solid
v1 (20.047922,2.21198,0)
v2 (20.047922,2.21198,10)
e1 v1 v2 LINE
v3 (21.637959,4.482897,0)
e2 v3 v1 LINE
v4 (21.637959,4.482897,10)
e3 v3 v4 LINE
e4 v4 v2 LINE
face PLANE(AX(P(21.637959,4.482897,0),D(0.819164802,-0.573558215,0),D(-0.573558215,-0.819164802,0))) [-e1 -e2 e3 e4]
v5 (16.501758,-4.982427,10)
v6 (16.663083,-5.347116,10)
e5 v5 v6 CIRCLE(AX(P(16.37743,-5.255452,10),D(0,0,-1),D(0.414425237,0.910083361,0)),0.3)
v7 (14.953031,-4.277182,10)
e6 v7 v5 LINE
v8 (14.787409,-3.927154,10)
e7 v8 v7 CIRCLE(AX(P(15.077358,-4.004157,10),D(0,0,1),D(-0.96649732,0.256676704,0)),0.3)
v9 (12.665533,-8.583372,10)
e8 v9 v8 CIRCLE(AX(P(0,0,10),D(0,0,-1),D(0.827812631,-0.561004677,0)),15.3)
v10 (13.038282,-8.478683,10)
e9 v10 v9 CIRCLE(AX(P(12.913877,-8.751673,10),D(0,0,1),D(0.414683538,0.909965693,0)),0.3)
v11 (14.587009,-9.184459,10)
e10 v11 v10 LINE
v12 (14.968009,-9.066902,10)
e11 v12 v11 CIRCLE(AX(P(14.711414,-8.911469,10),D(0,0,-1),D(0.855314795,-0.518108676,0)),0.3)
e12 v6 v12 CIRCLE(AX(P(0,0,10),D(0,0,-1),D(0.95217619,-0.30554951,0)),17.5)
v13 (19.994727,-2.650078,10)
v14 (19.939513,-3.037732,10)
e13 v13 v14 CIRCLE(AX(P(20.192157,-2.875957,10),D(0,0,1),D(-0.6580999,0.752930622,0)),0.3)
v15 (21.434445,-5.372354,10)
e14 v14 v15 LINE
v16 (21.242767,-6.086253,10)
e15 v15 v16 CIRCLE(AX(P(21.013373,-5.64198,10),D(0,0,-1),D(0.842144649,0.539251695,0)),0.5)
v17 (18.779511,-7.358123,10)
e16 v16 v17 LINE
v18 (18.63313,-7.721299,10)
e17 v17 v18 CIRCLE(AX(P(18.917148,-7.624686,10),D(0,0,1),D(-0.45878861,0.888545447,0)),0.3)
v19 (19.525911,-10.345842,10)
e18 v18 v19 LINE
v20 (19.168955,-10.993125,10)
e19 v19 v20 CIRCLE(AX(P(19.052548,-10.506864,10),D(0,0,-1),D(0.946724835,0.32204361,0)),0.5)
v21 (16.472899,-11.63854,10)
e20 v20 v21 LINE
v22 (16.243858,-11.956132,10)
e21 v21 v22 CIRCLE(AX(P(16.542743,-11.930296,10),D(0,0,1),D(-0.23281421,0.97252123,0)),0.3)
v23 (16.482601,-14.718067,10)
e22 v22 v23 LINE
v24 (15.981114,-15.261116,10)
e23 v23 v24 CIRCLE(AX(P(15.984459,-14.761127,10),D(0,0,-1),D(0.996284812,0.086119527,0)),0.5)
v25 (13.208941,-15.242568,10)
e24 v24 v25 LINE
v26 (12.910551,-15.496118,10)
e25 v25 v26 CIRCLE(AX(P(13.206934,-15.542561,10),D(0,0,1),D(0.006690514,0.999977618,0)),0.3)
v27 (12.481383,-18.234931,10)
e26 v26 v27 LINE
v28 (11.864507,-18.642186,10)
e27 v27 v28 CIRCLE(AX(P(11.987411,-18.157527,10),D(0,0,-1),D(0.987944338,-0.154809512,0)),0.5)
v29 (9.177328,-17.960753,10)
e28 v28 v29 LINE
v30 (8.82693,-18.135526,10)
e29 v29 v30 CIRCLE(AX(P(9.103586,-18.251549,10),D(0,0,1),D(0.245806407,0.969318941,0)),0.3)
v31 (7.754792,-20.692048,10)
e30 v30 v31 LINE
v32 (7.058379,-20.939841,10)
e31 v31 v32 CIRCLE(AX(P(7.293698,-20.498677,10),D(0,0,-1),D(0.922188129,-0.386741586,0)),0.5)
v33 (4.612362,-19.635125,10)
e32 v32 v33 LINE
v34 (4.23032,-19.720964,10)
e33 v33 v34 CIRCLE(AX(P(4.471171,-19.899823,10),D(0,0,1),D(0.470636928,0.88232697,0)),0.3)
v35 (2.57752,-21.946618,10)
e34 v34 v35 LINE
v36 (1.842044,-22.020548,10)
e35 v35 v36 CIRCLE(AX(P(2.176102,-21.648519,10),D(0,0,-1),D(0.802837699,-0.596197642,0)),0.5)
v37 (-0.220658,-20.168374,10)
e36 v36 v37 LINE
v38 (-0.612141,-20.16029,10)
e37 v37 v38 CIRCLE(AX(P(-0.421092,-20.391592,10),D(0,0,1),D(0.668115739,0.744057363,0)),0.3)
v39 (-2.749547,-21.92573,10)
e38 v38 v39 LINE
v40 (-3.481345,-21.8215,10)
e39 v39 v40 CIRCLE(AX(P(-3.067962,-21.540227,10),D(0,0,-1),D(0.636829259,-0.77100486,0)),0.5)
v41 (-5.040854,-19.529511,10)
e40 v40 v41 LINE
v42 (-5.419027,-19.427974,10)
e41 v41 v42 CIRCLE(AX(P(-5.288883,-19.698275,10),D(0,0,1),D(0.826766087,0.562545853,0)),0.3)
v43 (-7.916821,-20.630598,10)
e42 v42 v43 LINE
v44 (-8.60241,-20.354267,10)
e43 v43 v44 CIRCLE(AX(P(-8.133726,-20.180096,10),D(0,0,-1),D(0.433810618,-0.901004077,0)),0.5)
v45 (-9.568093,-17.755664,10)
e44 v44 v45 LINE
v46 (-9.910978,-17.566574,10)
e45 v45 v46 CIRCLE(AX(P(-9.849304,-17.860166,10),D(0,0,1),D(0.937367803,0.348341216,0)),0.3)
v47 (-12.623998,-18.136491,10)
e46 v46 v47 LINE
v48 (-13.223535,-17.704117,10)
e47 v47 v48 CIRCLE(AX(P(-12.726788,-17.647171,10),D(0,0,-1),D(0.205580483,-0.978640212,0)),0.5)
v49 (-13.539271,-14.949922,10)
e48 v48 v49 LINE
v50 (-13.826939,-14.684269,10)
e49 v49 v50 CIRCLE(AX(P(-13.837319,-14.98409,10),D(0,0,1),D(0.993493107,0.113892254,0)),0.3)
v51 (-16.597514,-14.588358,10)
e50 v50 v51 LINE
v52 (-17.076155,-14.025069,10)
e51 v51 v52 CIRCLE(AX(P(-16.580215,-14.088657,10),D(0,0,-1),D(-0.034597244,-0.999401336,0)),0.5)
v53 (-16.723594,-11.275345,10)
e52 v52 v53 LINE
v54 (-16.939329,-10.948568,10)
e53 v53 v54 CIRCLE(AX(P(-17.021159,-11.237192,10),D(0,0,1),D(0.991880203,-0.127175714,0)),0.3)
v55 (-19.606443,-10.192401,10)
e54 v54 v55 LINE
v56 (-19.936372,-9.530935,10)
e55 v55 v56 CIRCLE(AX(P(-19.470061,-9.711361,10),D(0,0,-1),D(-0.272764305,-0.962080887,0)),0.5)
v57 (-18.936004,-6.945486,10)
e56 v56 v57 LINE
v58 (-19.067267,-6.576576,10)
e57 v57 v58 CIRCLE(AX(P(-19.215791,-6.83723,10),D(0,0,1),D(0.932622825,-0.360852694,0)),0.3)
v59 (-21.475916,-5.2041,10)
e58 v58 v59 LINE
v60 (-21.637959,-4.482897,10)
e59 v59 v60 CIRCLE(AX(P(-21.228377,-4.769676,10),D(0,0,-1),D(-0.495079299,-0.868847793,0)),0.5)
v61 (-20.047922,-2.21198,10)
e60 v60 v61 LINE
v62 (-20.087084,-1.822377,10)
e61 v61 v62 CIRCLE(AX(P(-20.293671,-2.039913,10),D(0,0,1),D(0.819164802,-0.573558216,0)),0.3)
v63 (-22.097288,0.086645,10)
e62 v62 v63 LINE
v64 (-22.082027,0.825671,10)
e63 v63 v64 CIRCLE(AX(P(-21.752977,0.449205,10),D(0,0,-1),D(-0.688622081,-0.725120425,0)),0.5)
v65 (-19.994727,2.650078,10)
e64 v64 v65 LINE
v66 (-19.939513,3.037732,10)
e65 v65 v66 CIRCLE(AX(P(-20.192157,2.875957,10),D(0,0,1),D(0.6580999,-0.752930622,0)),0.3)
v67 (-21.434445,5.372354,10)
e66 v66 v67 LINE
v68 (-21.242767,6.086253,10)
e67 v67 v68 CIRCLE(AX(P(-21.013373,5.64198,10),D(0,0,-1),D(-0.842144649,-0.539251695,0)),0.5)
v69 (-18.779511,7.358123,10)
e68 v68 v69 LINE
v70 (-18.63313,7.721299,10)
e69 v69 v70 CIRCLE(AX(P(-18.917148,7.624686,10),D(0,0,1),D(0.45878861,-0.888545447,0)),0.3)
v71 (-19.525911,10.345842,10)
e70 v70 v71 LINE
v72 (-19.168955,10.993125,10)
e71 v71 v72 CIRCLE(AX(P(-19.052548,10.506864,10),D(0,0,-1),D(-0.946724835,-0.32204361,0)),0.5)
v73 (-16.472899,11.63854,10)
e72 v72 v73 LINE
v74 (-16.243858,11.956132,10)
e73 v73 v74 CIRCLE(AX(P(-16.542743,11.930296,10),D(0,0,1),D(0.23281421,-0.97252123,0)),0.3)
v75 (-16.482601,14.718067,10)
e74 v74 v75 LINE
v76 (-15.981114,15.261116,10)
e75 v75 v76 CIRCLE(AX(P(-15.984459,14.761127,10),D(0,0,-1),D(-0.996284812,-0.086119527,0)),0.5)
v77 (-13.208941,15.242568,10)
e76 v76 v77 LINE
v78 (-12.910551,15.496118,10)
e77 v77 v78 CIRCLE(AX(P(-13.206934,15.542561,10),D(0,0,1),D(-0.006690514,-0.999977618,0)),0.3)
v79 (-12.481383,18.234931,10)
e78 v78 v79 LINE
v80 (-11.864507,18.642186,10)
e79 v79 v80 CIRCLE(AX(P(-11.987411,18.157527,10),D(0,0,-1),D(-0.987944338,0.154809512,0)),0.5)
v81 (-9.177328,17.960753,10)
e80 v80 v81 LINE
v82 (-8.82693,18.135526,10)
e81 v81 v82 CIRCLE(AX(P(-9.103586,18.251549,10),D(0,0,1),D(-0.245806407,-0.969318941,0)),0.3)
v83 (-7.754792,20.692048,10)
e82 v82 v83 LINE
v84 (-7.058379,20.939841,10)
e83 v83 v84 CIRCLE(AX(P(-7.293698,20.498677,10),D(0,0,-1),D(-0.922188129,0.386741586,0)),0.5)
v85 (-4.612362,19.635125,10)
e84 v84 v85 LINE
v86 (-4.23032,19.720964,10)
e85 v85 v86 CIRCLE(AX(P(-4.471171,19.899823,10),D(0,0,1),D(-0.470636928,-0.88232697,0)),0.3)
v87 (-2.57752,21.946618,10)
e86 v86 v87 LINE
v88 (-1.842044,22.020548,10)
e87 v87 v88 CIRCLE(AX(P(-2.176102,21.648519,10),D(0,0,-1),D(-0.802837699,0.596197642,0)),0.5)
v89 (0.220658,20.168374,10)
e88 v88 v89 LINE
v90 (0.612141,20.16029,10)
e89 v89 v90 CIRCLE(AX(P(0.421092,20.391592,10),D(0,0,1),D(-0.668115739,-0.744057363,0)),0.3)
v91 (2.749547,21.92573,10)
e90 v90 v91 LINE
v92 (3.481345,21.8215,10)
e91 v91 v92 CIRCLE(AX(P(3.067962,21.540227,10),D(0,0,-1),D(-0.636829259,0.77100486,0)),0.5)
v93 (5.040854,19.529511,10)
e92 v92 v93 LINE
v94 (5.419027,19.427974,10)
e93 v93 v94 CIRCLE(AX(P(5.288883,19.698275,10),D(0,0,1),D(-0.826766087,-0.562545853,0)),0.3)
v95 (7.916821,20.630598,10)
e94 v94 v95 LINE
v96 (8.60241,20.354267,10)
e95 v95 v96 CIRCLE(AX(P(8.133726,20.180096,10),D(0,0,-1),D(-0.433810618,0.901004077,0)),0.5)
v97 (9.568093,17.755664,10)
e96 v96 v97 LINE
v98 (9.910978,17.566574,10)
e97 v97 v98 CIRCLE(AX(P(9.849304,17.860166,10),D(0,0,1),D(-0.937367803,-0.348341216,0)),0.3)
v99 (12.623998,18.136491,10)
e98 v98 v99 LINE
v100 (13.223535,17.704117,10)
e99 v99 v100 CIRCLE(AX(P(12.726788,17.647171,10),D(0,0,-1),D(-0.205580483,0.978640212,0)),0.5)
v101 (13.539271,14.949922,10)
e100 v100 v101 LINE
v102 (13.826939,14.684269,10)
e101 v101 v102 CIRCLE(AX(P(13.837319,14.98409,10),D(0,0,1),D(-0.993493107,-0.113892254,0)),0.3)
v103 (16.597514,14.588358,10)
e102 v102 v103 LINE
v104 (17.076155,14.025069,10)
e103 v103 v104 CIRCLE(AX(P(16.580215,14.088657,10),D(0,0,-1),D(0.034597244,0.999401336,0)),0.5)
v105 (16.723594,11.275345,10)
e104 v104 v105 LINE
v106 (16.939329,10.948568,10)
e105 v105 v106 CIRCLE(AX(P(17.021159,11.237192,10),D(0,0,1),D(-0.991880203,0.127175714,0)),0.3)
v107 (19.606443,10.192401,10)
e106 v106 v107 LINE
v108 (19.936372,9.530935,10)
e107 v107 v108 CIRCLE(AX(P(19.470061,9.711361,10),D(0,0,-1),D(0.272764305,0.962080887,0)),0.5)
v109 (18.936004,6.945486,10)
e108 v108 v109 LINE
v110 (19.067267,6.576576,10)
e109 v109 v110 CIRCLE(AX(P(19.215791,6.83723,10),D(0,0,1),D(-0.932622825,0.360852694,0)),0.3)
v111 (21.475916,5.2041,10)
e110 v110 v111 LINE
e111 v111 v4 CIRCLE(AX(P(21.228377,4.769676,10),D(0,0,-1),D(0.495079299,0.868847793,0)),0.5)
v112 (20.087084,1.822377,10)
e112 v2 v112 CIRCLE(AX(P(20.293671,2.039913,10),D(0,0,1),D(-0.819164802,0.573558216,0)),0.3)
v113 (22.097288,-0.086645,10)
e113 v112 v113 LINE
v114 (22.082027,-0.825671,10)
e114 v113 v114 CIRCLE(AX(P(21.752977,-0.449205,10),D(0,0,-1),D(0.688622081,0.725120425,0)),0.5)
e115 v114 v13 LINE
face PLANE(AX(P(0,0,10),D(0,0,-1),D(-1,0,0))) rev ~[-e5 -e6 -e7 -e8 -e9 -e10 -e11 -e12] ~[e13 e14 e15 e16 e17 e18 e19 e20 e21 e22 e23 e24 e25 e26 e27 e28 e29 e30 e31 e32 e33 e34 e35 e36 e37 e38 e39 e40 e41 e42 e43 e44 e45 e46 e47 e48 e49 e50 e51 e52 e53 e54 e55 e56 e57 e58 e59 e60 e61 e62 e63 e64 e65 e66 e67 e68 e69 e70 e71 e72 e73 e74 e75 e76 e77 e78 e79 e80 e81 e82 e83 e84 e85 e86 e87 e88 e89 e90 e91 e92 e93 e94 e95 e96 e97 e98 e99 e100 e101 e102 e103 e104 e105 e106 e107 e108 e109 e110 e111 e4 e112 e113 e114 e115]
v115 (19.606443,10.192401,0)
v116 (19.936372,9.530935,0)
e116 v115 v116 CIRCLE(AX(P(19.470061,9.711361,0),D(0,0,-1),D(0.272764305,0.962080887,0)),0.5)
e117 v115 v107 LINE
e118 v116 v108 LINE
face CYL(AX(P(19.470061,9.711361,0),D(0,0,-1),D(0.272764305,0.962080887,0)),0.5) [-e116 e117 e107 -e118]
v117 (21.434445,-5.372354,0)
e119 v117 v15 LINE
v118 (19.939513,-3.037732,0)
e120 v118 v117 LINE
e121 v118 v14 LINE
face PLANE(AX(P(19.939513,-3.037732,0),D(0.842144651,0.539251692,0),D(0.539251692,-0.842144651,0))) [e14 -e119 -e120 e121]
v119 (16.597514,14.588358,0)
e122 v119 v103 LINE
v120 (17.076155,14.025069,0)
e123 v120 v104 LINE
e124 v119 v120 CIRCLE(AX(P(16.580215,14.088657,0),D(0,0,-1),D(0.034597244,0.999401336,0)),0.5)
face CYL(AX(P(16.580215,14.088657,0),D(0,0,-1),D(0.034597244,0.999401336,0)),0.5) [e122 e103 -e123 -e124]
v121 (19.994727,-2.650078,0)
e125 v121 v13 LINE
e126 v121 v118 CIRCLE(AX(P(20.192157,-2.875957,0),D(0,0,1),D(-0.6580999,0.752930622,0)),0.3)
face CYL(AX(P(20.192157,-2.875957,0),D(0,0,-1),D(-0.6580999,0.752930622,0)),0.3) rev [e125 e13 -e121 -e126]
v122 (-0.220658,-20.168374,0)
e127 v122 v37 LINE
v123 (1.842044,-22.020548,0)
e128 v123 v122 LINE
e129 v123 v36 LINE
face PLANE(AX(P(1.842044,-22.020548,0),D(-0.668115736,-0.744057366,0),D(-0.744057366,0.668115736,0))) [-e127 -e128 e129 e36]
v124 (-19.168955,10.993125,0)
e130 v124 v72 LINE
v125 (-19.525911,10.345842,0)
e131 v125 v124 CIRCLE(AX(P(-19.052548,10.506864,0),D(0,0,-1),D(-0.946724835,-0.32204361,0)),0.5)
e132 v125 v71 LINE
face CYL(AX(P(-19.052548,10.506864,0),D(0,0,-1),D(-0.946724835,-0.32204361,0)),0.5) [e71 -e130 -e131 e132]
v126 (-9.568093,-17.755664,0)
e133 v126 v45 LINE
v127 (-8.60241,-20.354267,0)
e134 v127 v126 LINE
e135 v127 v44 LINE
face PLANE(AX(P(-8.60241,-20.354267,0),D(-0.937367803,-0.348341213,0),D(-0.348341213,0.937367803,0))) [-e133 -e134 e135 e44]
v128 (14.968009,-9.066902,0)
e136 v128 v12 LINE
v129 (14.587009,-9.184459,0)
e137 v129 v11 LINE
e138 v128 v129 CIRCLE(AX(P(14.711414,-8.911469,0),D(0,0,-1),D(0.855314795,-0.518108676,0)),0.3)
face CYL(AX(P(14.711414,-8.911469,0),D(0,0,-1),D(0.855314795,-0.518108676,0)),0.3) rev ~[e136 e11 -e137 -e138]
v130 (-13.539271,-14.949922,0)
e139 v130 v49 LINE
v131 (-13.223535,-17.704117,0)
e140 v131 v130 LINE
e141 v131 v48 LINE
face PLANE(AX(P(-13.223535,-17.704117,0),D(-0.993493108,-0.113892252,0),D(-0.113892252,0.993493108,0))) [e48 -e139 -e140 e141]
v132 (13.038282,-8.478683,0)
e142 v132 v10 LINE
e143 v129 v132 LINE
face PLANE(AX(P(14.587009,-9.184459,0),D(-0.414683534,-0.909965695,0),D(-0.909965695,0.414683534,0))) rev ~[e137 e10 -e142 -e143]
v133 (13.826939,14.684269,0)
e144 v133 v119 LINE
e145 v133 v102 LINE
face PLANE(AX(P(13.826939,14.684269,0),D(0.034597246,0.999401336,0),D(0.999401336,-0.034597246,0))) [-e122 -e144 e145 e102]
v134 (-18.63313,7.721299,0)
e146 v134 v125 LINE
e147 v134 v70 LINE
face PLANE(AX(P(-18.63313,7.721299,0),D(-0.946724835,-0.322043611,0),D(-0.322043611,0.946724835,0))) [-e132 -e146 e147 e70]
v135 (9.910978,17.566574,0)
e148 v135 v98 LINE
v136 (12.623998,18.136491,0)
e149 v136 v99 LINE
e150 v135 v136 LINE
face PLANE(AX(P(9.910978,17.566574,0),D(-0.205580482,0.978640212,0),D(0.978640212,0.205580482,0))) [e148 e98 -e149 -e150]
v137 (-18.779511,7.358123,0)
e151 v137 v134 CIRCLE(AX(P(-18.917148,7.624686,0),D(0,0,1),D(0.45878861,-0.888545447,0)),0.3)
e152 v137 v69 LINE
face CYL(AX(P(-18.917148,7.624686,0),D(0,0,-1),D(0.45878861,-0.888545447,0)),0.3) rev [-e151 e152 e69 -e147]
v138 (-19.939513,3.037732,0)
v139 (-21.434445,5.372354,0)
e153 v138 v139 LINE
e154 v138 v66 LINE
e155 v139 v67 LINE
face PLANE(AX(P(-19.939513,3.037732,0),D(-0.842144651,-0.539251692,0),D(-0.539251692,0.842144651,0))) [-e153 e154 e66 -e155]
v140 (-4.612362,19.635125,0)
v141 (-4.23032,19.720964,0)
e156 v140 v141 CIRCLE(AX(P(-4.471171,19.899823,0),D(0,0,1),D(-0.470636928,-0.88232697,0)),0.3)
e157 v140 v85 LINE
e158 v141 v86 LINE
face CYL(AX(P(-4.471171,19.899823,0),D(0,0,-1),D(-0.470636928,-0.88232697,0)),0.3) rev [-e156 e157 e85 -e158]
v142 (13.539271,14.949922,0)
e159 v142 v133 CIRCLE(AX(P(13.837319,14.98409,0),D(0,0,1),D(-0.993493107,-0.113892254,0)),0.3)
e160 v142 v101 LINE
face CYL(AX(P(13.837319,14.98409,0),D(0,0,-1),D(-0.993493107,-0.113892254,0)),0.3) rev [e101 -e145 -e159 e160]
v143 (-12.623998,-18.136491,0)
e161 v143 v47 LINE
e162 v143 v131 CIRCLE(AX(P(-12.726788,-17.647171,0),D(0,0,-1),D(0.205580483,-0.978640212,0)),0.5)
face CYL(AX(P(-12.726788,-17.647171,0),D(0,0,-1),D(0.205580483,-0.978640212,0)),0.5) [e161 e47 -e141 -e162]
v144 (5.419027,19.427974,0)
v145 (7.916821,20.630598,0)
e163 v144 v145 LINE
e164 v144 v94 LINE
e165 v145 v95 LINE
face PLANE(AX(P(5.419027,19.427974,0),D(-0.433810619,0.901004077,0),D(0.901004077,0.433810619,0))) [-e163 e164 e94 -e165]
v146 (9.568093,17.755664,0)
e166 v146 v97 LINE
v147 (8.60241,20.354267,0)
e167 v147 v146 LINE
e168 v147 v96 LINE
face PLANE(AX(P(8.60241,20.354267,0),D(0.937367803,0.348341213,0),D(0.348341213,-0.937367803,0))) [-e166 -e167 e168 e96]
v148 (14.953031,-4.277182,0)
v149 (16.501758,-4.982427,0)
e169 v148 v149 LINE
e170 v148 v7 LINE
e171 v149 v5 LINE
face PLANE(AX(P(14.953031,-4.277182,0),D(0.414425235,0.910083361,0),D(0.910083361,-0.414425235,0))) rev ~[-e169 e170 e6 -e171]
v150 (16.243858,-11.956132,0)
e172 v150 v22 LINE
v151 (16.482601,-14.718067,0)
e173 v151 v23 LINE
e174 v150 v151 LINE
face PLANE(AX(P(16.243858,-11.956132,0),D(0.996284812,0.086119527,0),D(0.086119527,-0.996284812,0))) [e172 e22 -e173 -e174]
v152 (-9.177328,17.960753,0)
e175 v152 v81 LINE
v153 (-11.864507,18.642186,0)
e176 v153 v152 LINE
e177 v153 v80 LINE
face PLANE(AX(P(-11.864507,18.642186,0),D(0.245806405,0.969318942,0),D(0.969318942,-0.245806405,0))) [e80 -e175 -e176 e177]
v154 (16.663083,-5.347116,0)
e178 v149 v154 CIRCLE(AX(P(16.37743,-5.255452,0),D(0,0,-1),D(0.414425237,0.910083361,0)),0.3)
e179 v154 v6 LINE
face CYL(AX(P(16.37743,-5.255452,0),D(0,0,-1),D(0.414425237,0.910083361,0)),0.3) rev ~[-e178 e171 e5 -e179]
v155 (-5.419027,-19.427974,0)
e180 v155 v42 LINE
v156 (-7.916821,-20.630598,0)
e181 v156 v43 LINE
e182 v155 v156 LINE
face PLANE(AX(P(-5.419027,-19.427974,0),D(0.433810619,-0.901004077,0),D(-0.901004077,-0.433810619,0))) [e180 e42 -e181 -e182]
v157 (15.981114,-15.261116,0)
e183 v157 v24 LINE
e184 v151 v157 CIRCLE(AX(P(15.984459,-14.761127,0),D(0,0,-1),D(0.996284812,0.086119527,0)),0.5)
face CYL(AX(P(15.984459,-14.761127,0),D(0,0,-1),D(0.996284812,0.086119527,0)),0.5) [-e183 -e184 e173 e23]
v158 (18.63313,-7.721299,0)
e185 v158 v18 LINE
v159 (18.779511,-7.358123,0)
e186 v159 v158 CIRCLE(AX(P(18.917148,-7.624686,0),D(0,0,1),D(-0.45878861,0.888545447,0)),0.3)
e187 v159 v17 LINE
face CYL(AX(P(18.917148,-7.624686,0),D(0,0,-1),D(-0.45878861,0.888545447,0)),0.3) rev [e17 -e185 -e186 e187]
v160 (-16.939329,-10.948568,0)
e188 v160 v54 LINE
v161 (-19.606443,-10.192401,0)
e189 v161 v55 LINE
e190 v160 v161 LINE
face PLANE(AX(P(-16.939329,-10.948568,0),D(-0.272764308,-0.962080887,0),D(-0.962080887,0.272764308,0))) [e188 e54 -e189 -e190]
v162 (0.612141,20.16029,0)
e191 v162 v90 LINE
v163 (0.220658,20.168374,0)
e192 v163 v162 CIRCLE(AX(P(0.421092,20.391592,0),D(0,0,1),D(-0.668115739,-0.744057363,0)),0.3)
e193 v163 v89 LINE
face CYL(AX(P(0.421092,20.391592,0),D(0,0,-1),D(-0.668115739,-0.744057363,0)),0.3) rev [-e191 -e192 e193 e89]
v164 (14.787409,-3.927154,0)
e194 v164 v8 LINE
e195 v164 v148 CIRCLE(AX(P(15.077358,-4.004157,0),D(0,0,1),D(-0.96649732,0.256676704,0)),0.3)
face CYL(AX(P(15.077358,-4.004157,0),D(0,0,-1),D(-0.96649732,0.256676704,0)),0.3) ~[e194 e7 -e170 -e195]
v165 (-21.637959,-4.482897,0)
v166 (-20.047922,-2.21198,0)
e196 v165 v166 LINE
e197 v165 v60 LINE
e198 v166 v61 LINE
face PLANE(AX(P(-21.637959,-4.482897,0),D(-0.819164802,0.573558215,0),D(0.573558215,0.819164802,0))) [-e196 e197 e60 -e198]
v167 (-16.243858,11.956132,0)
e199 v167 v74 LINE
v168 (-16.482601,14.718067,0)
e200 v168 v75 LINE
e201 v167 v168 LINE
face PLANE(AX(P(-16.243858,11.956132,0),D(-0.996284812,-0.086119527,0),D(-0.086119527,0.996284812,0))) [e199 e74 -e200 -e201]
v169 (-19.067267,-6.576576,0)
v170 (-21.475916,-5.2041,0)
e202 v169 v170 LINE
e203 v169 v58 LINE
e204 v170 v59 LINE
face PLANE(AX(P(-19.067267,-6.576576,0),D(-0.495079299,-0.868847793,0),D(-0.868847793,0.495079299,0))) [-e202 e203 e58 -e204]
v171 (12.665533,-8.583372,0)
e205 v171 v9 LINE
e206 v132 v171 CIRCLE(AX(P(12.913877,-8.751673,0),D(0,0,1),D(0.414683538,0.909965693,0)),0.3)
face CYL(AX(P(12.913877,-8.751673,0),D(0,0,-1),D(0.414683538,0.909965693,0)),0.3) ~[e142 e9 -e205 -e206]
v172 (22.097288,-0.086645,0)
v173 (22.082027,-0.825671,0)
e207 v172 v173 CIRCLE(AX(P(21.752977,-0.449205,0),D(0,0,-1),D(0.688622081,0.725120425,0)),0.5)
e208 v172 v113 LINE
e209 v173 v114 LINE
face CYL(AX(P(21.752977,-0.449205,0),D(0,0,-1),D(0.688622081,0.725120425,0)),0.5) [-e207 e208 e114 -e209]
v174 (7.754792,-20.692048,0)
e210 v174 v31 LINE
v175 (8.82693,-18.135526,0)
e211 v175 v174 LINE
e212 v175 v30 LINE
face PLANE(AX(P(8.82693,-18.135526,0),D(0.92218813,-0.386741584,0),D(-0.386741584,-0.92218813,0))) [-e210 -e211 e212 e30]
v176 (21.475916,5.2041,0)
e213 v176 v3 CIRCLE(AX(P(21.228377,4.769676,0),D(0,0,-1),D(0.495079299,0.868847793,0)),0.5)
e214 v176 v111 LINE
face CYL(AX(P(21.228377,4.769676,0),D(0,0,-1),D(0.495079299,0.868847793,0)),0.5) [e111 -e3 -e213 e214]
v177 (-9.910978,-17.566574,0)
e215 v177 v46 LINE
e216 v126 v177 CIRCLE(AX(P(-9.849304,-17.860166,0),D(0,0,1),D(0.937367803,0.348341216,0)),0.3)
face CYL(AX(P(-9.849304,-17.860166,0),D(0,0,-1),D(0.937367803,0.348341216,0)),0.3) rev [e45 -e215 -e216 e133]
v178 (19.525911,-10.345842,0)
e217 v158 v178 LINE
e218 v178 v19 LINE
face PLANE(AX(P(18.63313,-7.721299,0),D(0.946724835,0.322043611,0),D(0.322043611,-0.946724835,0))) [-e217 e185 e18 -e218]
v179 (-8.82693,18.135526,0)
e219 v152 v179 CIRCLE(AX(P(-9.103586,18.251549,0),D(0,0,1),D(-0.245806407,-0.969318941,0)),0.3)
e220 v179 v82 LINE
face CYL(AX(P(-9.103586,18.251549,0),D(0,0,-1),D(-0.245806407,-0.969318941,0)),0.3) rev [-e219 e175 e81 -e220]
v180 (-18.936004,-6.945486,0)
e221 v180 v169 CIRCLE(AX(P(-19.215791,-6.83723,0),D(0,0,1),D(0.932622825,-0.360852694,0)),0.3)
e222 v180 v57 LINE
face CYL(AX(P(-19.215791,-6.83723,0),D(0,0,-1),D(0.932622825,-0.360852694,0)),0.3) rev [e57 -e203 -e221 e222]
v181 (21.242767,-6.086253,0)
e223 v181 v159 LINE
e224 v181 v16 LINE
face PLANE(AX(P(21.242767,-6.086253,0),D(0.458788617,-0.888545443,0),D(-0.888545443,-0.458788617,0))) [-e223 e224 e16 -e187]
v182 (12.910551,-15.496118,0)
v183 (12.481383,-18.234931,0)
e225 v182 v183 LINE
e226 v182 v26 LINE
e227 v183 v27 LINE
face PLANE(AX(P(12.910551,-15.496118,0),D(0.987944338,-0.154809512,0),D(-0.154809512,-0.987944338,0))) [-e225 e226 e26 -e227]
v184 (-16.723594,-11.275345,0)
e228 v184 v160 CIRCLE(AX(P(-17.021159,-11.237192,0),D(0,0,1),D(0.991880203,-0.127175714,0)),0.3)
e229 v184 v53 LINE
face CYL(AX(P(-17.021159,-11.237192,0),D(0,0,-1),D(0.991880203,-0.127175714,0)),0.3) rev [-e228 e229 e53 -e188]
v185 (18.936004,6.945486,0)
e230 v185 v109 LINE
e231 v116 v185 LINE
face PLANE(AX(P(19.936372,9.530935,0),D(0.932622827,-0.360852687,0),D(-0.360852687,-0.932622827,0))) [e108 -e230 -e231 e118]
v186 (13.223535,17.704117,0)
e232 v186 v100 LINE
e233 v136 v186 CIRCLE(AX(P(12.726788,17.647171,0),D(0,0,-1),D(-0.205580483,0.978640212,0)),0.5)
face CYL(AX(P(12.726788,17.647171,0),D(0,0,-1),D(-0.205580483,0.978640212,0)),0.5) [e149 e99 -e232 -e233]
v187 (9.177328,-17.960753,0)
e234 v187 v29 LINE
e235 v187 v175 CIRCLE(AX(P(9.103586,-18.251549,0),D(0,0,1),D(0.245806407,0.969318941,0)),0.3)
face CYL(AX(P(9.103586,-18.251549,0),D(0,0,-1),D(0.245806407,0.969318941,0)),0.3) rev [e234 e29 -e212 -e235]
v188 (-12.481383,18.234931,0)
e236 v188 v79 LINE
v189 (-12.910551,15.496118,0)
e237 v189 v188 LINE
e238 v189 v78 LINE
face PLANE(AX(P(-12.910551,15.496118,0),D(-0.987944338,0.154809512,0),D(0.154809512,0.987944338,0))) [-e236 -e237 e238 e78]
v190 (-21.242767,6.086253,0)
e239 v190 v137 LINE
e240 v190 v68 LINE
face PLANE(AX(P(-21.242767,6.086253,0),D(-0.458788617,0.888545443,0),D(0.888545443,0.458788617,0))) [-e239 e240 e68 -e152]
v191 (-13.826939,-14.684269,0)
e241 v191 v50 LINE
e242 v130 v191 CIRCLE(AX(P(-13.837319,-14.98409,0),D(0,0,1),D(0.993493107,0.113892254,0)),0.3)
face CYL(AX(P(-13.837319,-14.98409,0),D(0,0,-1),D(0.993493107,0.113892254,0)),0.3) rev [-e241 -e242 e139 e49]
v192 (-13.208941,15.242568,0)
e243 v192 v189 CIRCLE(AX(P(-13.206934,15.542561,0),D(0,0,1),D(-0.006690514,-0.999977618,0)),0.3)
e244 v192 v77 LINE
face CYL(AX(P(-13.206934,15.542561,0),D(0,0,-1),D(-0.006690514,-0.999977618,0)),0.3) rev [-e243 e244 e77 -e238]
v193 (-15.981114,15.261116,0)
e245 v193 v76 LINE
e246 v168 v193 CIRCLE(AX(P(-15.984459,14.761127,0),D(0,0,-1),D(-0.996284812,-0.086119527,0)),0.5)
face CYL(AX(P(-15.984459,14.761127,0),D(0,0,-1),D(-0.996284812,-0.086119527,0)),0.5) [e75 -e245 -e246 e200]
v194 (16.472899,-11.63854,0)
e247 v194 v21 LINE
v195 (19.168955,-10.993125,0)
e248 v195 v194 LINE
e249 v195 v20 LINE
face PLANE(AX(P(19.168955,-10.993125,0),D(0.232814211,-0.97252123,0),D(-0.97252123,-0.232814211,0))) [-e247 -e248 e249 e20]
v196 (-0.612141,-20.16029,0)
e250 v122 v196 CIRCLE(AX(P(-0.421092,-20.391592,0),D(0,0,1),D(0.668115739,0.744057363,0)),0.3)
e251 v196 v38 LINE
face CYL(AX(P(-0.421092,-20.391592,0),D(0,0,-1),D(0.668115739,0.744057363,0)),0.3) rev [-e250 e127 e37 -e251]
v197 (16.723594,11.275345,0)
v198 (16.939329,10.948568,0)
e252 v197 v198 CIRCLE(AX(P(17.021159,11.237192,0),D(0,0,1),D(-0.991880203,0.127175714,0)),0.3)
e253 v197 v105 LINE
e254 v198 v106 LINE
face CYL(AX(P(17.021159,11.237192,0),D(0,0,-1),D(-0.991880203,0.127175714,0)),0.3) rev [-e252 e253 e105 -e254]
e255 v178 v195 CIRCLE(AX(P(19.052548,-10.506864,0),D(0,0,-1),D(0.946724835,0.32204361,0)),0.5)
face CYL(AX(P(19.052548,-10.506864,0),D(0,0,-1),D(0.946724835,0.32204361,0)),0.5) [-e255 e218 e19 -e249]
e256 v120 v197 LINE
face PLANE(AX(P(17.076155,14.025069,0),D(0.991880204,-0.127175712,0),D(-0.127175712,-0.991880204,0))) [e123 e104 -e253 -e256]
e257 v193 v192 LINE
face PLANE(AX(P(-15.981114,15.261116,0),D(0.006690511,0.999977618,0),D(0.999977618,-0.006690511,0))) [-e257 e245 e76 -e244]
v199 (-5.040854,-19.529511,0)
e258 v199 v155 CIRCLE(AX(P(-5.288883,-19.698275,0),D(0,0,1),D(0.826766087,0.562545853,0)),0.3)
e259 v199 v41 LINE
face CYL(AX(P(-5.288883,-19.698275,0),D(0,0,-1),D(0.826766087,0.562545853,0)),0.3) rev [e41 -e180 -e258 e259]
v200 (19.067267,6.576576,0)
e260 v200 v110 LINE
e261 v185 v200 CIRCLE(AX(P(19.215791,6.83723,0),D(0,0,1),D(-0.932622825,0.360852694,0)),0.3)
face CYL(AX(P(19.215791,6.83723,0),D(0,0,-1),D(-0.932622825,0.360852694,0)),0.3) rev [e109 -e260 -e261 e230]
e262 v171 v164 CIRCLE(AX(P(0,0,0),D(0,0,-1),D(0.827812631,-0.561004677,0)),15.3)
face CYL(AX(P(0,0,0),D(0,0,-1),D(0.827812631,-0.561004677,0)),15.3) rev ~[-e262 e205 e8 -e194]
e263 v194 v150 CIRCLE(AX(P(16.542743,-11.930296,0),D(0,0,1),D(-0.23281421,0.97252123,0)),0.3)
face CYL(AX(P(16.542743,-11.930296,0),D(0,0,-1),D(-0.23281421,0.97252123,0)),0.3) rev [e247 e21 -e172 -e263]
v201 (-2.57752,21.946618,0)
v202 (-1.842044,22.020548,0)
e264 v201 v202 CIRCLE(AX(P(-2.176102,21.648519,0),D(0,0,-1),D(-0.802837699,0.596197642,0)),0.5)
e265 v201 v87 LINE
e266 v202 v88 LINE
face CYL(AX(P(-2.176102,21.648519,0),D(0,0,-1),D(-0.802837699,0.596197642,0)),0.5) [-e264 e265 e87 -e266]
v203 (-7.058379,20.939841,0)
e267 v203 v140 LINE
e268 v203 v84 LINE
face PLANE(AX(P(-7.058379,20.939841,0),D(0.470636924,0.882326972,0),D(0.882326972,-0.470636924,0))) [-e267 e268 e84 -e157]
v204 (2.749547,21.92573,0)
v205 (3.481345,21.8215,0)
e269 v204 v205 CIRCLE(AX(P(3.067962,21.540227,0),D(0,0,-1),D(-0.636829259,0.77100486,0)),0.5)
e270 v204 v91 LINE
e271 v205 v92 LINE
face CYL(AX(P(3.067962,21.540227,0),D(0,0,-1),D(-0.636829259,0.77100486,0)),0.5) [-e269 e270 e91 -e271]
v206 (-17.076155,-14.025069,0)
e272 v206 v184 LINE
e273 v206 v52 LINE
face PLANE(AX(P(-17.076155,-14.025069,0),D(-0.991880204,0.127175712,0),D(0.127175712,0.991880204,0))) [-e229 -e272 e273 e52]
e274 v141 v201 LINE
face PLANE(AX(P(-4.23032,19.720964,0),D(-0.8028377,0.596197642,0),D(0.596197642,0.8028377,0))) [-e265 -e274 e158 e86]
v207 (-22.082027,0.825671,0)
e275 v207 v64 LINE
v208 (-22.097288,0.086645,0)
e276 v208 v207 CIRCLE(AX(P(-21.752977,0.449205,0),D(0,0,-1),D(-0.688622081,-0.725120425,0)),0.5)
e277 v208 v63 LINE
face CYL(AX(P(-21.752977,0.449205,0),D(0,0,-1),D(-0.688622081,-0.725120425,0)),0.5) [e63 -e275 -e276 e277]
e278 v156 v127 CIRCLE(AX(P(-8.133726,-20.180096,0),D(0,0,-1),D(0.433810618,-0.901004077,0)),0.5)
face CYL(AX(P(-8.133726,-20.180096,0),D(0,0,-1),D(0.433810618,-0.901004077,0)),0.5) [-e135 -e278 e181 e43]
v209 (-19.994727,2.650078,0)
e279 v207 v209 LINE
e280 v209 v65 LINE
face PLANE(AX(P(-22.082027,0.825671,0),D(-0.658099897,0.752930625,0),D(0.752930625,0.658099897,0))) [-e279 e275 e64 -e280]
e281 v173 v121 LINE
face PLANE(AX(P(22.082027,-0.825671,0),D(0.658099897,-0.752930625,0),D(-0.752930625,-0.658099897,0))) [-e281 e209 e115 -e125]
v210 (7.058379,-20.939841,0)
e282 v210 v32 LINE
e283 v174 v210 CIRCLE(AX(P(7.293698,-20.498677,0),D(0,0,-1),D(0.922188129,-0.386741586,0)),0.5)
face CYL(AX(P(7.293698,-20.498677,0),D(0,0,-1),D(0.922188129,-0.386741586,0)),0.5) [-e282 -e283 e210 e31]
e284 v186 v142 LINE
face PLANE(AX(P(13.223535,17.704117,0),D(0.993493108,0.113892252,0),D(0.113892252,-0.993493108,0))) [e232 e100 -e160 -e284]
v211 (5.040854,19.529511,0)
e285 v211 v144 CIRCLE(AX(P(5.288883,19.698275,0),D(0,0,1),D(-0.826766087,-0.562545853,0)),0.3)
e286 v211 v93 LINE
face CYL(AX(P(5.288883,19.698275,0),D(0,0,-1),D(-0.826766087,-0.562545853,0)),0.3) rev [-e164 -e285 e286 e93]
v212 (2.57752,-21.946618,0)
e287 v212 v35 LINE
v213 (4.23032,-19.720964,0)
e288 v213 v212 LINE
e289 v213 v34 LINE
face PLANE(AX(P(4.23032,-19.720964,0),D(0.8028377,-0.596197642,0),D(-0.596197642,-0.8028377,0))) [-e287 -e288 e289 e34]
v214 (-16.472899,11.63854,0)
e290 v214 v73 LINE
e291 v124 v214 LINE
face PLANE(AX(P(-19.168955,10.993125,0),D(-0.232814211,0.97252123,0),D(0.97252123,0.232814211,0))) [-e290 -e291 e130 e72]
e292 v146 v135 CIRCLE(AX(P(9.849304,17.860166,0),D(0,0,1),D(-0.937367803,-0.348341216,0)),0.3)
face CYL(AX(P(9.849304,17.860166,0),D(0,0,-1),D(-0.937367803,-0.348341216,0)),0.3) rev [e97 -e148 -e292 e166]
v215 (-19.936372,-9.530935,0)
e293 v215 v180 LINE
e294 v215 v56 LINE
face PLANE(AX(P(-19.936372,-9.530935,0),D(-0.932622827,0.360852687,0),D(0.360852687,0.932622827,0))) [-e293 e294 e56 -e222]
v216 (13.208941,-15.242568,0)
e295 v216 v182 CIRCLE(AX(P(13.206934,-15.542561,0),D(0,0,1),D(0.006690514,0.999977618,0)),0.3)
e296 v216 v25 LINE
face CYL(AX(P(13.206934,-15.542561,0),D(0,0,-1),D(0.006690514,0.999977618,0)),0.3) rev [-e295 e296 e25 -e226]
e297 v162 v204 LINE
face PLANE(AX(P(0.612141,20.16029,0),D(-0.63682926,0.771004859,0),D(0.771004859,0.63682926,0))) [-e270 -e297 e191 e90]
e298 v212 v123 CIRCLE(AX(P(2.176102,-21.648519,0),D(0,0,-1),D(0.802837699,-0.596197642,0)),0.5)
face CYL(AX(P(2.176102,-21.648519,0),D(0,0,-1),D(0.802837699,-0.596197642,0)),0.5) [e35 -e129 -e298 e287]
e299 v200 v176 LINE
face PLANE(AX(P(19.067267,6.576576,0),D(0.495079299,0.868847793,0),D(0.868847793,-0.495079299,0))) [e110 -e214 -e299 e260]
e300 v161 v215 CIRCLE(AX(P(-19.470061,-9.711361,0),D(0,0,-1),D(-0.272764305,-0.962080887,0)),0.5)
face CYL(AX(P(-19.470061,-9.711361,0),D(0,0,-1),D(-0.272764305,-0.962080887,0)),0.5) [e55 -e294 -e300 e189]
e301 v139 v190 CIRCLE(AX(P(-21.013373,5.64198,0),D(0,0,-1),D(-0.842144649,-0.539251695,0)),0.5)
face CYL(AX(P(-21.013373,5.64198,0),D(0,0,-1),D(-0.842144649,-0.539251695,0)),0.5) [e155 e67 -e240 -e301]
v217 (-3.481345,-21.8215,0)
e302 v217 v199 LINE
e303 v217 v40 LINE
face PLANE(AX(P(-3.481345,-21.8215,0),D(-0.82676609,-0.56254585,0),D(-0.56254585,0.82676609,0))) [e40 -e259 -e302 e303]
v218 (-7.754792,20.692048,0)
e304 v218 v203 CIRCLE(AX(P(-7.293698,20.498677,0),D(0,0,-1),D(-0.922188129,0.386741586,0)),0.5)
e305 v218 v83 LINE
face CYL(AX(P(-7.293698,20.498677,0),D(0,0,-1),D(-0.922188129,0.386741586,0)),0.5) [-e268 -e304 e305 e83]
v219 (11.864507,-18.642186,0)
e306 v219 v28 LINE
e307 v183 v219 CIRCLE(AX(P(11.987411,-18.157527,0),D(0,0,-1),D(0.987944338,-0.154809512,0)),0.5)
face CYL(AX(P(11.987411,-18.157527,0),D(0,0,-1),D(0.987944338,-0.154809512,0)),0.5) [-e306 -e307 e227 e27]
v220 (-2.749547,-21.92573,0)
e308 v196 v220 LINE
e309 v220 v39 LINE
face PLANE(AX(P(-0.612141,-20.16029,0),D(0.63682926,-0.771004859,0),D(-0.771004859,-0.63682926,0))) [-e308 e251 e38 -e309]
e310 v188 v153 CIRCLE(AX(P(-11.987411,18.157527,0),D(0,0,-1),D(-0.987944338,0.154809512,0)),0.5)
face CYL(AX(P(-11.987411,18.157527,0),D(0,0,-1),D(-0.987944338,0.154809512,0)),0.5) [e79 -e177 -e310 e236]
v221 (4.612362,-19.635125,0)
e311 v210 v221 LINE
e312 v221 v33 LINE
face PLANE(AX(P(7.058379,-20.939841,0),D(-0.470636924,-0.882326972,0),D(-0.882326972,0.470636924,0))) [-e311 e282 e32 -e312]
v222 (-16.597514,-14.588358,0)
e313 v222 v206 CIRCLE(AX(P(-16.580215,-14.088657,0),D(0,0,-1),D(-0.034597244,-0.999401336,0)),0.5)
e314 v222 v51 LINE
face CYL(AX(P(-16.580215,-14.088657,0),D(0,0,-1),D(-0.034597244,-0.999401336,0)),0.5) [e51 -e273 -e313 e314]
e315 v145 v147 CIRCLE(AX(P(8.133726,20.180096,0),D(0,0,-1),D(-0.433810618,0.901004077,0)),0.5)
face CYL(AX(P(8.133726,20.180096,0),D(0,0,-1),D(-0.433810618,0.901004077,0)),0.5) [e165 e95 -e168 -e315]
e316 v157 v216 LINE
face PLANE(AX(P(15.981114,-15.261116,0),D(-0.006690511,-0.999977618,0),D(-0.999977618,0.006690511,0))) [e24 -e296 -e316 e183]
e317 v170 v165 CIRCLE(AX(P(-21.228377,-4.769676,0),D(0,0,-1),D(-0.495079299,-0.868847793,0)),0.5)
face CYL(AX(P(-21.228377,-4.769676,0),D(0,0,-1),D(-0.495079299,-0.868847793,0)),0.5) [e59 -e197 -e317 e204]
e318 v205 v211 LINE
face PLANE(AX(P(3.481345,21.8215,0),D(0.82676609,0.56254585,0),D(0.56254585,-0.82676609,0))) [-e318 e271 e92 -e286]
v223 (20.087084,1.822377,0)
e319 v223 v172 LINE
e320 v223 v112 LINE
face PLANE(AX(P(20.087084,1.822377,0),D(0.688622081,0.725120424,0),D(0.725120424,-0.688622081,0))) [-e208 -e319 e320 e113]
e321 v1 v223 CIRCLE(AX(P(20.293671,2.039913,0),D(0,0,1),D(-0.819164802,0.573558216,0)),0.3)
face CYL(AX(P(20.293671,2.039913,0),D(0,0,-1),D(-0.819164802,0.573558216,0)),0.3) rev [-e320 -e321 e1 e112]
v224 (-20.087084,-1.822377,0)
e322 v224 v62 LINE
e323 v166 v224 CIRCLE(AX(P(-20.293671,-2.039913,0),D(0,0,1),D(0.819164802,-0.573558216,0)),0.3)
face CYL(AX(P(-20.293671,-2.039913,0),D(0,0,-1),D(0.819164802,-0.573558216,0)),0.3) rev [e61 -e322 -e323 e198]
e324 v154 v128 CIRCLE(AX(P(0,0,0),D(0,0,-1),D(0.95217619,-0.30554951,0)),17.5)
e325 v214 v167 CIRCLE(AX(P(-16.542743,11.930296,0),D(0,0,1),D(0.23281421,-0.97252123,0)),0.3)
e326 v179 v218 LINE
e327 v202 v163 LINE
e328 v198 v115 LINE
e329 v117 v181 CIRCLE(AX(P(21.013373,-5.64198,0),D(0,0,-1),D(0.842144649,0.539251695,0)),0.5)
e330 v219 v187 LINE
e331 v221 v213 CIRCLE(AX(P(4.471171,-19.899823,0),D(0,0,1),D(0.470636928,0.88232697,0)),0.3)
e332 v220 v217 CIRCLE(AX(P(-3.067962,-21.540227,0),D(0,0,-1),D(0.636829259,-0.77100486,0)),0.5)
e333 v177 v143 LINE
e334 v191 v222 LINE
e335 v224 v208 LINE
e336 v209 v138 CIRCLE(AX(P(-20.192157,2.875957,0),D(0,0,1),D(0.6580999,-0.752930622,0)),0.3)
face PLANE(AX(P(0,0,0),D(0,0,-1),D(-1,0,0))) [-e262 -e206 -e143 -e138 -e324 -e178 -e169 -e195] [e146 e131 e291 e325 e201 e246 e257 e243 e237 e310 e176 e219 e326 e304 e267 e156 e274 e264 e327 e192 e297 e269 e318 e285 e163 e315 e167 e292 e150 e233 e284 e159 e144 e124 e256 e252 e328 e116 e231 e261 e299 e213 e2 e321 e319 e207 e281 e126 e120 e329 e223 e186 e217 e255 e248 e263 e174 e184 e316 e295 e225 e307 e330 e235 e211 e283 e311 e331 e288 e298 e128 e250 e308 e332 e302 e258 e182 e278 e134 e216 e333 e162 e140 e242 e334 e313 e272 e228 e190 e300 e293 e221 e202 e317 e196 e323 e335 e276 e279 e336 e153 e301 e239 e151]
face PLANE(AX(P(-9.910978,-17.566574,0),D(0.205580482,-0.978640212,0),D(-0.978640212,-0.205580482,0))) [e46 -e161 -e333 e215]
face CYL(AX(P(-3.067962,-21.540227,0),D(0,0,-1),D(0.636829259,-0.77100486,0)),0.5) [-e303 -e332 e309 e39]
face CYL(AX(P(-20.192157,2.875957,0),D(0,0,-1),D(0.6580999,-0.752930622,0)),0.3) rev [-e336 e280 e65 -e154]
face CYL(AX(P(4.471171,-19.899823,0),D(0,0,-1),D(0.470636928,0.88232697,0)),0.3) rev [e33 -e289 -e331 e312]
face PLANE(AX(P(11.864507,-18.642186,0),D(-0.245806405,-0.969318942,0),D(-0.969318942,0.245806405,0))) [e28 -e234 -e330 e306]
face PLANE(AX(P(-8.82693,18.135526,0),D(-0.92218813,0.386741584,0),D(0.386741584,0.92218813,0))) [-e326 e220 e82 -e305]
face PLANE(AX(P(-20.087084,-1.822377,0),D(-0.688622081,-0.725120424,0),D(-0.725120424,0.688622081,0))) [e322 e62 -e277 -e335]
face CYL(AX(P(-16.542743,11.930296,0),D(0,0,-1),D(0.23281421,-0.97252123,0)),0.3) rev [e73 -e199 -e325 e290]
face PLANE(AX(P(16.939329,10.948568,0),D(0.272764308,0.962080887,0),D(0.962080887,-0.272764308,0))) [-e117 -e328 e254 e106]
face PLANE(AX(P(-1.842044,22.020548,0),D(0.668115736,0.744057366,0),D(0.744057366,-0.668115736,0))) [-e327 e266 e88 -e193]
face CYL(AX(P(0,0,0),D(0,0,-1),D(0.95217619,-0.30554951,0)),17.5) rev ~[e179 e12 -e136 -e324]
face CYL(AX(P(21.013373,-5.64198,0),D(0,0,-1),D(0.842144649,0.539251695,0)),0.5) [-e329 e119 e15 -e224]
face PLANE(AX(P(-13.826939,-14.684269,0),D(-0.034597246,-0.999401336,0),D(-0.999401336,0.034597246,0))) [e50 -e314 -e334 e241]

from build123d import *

# Parameters (mm, degrees)
BOSS_EXTRU_1_DEPTH = 10


with BuildPart() as part:
    # Esquisse1 → Boss.-Extru.1 (new body)
    with BuildSketch(Plane.XY):
        with BuildLine():
            Line((19.936371996, 9.53093454), (18.936003853, 6.945485686))
            ThreePointArc((18.936003853, 6.945485686), (18.933149277, 6.736662361), (19.067266911, 6.576575542))
            Line((19.067266911, 6.576575542), (21.475916438, 5.204099801))
            ThreePointArc((21.475916438, 5.204099801), (21.716214662, 4.879285253), (21.63795919, 4.482896797))
            Line((21.63795919, 4.482896797), (20.047921516, 2.211980154))
            ThreePointArc((20.047921516, 2.211980154), (19.995175197, 2.009908), (20.087084333, 1.822376562))
            Line((20.087084333, 1.822376562), (22.097287938, -0.08664509))
            ThreePointArc((22.097287938, -0.08664509), (22.252870323, -0.459528247), (22.082026846, -0.825670614))
            Line((22.082026846, -0.825670614), (19.994726852, -2.650077625))
            ThreePointArc((19.994726852, -2.650077625), (19.895154214, -2.833654908), (19.939513426, -3.03773232))
            Line((19.939513426, -3.03773232), (21.434445383, -5.372354483))
            ThreePointArc((21.434445383, -5.372354483), (21.496270047, -5.771635635), (21.242767367, -6.08625305))
            Line((21.242767367, -6.08625305), (18.779511342, -7.358122524))
            ThreePointArc((18.779511342, -7.358122524), (18.638899183, -7.512536093), (18.633130477, -7.72129924))
            Line((18.633130477, -7.72129924), (19.525910774, -10.345842161))
            ThreePointArc((19.525910774, -10.345842161), (19.490384691, -10.748316538), (19.168955462, -10.993124582))
            Line((19.168955462, -10.993124582), (16.472898893, -11.638540088))
            ThreePointArc((16.472898893, -11.638540088), (16.299419082, -11.754815988), (16.243857712, -11.956132315))
            Line((16.243857712, -11.956132315), (16.482601205, -14.718067098))
            ThreePointArc((16.482601205, -14.718067098), (16.351789022, -15.100344354), (15.981113543, -15.261115671))
            Line((15.981113543, -15.261115671), (13.208941437, -15.242568007))
            ThreePointArc((13.208941437, -15.242568007), (13.01267599, -15.313948704), (12.910550982, -15.496118438))
            Line((12.910550982, -15.496118438), (12.481382765, -18.234931474))
            ThreePointArc((12.481382765, -18.234931474), (12.262886811, -18.574795043), (11.864507393, -18.642186189))
            Line((11.864507393, -18.642186189), (9.177328317, -17.960753277))
            ThreePointArc((9.177328317, -17.960753277), (8.969683468, -17.983090385), (8.826929956, -18.135526484))
            Line((8.826929956, -18.135526484), (7.754791727, -20.692047914))
            ThreePointArc((7.754791727, -20.692047914), (7.461310193, -20.96974616), (7.0583792, -20.939840607))
            Line((7.0583792, -20.939840607), (4.612362234, -19.635124852))
            ThreePointArc((4.612362234, -19.635124852), (4.405405547, -19.607120219), (4.230319846, -19.720963651))
            Line((4.230319846, -19.720963651), (2.577520381, -21.946617741))
            ThreePointArc((2.577520381, -21.946617741), (2.226109347, -22.146011853), (1.842043663, -22.020547603))
            Line((1.842043663, -22.020547603), (-0.220657578, -20.168374341))
            ThreePointArc((-0.220657578, -20.168374341), (-0.414898532, -20.091655495), (-0.612141077, -20.160290093))
            Line((-0.612141077, -20.160290093), (-2.74954708, -21.925729918))
            ThreePointArc((-2.74954708, -21.925729918), (-3.138464883, -22.035231834), (-3.481344755, -21.821500413))
            Line((-3.481344755, -21.821500413), (-5.040853572, -19.529511222))
            ThreePointArc((-5.040853572, -19.529511222), (-5.211090216, -19.408536784), (-5.419026585, -19.427973754))
            Line((-5.419026585, -19.427973754), (-7.91682086, -20.630598369))
            ThreePointArc((-7.91682086, -20.630598369), (-8.320642942, -20.643844236), (-8.602410071, -20.354266937))
            Line((-8.602410071, -20.354266937), (-9.56809348, -17.755663898))
            ThreePointArc((-9.56809348, -17.755663898), (-9.704432278, -17.597464462), (-9.910977966, -17.566574199))
            Line((-9.910977966, -17.566574199), (-12.623997787, -18.136491432))
            ThreePointArc((-12.623997787, -18.136491432), (-13.019255477, -18.052711449), (-13.223534582, -17.704117452))
            Line((-13.223534582, -17.704117452), (-13.539270574, -14.949921928))
            ThreePointArc((-13.539270574, -14.949921928), (-13.633788011, -14.76369147), (-13.826939332, -14.684269203))
            Line((-13.826939332, -14.684269203), (-16.597513849, -14.588357536))
            ThreePointArc((-16.597513849, -14.588357536), (-16.961236207, -14.41242069), (-17.076155328, -14.025069012))
            Line((-17.076155328, -14.025069012), (-16.723594475, -11.275344836))
            ThreePointArc((-16.723594475, -11.275344836), (-16.770797541, -11.071906393), (-16.939329244, -10.948567856))
            Line((-16.939329244, -10.948567856), (-19.606442736, -10.192401327))
            ThreePointArc((-19.606442736, -10.192401327), (-19.91749154, -9.934532429), (-19.936371996, -9.53093454))
            Line((-19.936371996, -9.53093454), (-18.936003853, -6.945485686))
            ThreePointArc((-18.936003853, -6.945485686), (-18.933149277, -6.736662361), (-19.067266911, -6.576575542))
            Line((-19.067266911, -6.576575542), (-21.475916438, -5.204099801))
            ThreePointArc((-21.475916438, -5.204099801), (-21.716214662, -4.879285253), (-21.63795919, -4.482896797))
            Line((-21.63795919, -4.482896797), (-20.047921516, -2.211980154))
            ThreePointArc((-20.047921516, -2.211980154), (-19.995175197, -2.009908), (-20.087084333, -1.822376562))
            Line((-20.087084333, -1.822376562), (-22.097287938, 0.08664509))
            ThreePointArc((-22.097287938, 0.08664509), (-22.252870323, 0.459528247), (-22.082026846, 0.825670614))
            Line((-22.082026846, 0.825670614), (-19.994726852, 2.650077625))
            ThreePointArc((-19.994726852, 2.650077625), (-19.895154214, 2.833654908), (-19.939513426, 3.03773232))
            Line((-19.939513426, 3.03773232), (-21.434445383, 5.372354483))
            ThreePointArc((-21.434445383, 5.372354483), (-21.496270047, 5.771635635), (-21.242767367, 6.08625305))
            Line((-21.242767367, 6.08625305), (-18.779511342, 7.358122524))
            ThreePointArc((-18.779511342, 7.358122524), (-18.638899183, 7.512536093), (-18.633130477, 7.72129924))
            Line((-18.633130477, 7.72129924), (-19.525910774, 10.345842161))
            ThreePointArc((-19.525910774, 10.345842161), (-19.490384691, 10.748316538), (-19.168955462, 10.993124582))
            Line((-19.168955462, 10.993124582), (-16.472898893, 11.638540088))
            ThreePointArc((-16.472898893, 11.638540088), (-16.299419082, 11.754815988), (-16.243857712, 11.956132315))
            Line((-16.243857712, 11.956132315), (-16.482601205, 14.718067098))
            ThreePointArc((-16.482601205, 14.718067098), (-16.351789022, 15.100344354), (-15.981113543, 15.261115671))
            Line((-15.981113543, 15.261115671), (-13.208941437, 15.242568007))
            ThreePointArc((-13.208941437, 15.242568007), (-13.01267599, 15.313948704), (-12.910550982, 15.496118438))
            Line((-12.910550982, 15.496118438), (-12.481382765, 18.234931474))
            ThreePointArc((-12.481382765, 18.234931474), (-12.262886811, 18.574795043), (-11.864507393, 18.642186189))
            Line((-11.864507393, 18.642186189), (-9.177328317, 17.960753277))
            ThreePointArc((-9.177328317, 17.960753277), (-8.969683468, 17.983090385), (-8.826929956, 18.135526484))
            Line((-8.826929956, 18.135526484), (-7.754791727, 20.692047914))
            ThreePointArc((-7.754791727, 20.692047914), (-7.461310193, 20.96974616), (-7.0583792, 20.939840607))
            Line((-7.0583792, 20.939840607), (-4.612362234, 19.635124852))
            ThreePointArc((-4.612362234, 19.635124852), (-4.405405547, 19.607120219), (-4.230319846, 19.720963651))
            Line((-4.230319846, 19.720963651), (-2.577520381, 21.946617741))
            ThreePointArc((-2.577520381, 21.946617741), (-2.226109347, 22.146011853), (-1.842043663, 22.020547603))
            Line((-1.842043663, 22.020547603), (0.220657578, 20.168374341))
            ThreePointArc((0.220657578, 20.168374341), (0.414898532, 20.091655495), (0.612141077, 20.160290093))
            Line((0.612141077, 20.160290093), (2.74954708, 21.925729918))
            ThreePointArc((2.74954708, 21.925729918), (3.138464883, 22.035231834), (3.481344755, 21.821500413))
            Line((3.481344755, 21.821500413), (5.040853572, 19.529511222))
            ThreePointArc((5.040853572, 19.529511222), (5.211090216, 19.408536784), (5.419026585, 19.427973754))
            Line((5.419026585, 19.427973754), (7.91682086, 20.630598369))
            ThreePointArc((7.91682086, 20.630598369), (8.320642942, 20.643844236), (8.602410071, 20.354266937))
            Line((8.602410071, 20.354266937), (9.56809348, 17.755663898))
            ThreePointArc((9.56809348, 17.755663898), (9.704432278, 17.597464462), (9.910977966, 17.566574199))
            Line((9.910977966, 17.566574199), (12.623997787, 18.136491432))
            ThreePointArc((12.623997787, 18.136491432), (13.019255477, 18.052711449), (13.223534582, 17.704117452))
            Line((13.223534582, 17.704117452), (13.539270574, 14.949921928))
            ThreePointArc((13.539270574, 14.949921928), (13.633788011, 14.76369147), (13.826939332, 14.684269203))
            Line((13.826939332, 14.684269203), (16.597513849, 14.588357536))
            ThreePointArc((16.597513849, 14.588357536), (16.961236207, 14.41242069), (17.076155328, 14.025069012))
            Line((17.076155328, 14.025069012), (16.723594475, 11.275344836))
            ThreePointArc((16.723594475, 11.275344836), (16.770797541, 11.071906393), (16.939329244, 10.948567856))
            Line((16.939329244, 10.948567856), (19.606442736, 10.192401327))
            ThreePointArc((19.606442736, 10.192401327), (19.91749154, 9.934532429), (19.936371996, 9.53093454))
        make_face()
        with BuildLine():
            Line((14.953030626, -4.277181575), (16.501758042, -4.982426557))
            ThreePointArc((16.501758042, -4.982426557), (16.651785463, -5.134087079), (16.663083329, -5.347116418))
            ThreePointArc((16.663083329, -5.347116418), (15.924531384, -7.256672806), (14.968008895, -9.066901881))
            ThreePointArc((14.968008895, -9.066901881), (14.799864591, -9.198133844), (14.587009397, -9.184458985))
            Line((14.587009397, -9.184458985), (13.038282108, -8.478683252))
            ThreePointArc((13.038282108, -8.478683252), (12.832759155, -8.462847948), (12.665533258, -8.583371557))
            ThreePointArc((12.665533258, -8.583371557), (-13.922503409, 6.344596033), (14.787409001, -3.927153556))
            ThreePointArc((14.787409001, -3.927153556), (14.806182583, -4.132467854), (14.953030626, -4.277181575))
        make_face(mode=Mode.SUBTRACT)
    extrude(amount=BOSS_EXTRU_1_DEPTH)


solid = part.part
